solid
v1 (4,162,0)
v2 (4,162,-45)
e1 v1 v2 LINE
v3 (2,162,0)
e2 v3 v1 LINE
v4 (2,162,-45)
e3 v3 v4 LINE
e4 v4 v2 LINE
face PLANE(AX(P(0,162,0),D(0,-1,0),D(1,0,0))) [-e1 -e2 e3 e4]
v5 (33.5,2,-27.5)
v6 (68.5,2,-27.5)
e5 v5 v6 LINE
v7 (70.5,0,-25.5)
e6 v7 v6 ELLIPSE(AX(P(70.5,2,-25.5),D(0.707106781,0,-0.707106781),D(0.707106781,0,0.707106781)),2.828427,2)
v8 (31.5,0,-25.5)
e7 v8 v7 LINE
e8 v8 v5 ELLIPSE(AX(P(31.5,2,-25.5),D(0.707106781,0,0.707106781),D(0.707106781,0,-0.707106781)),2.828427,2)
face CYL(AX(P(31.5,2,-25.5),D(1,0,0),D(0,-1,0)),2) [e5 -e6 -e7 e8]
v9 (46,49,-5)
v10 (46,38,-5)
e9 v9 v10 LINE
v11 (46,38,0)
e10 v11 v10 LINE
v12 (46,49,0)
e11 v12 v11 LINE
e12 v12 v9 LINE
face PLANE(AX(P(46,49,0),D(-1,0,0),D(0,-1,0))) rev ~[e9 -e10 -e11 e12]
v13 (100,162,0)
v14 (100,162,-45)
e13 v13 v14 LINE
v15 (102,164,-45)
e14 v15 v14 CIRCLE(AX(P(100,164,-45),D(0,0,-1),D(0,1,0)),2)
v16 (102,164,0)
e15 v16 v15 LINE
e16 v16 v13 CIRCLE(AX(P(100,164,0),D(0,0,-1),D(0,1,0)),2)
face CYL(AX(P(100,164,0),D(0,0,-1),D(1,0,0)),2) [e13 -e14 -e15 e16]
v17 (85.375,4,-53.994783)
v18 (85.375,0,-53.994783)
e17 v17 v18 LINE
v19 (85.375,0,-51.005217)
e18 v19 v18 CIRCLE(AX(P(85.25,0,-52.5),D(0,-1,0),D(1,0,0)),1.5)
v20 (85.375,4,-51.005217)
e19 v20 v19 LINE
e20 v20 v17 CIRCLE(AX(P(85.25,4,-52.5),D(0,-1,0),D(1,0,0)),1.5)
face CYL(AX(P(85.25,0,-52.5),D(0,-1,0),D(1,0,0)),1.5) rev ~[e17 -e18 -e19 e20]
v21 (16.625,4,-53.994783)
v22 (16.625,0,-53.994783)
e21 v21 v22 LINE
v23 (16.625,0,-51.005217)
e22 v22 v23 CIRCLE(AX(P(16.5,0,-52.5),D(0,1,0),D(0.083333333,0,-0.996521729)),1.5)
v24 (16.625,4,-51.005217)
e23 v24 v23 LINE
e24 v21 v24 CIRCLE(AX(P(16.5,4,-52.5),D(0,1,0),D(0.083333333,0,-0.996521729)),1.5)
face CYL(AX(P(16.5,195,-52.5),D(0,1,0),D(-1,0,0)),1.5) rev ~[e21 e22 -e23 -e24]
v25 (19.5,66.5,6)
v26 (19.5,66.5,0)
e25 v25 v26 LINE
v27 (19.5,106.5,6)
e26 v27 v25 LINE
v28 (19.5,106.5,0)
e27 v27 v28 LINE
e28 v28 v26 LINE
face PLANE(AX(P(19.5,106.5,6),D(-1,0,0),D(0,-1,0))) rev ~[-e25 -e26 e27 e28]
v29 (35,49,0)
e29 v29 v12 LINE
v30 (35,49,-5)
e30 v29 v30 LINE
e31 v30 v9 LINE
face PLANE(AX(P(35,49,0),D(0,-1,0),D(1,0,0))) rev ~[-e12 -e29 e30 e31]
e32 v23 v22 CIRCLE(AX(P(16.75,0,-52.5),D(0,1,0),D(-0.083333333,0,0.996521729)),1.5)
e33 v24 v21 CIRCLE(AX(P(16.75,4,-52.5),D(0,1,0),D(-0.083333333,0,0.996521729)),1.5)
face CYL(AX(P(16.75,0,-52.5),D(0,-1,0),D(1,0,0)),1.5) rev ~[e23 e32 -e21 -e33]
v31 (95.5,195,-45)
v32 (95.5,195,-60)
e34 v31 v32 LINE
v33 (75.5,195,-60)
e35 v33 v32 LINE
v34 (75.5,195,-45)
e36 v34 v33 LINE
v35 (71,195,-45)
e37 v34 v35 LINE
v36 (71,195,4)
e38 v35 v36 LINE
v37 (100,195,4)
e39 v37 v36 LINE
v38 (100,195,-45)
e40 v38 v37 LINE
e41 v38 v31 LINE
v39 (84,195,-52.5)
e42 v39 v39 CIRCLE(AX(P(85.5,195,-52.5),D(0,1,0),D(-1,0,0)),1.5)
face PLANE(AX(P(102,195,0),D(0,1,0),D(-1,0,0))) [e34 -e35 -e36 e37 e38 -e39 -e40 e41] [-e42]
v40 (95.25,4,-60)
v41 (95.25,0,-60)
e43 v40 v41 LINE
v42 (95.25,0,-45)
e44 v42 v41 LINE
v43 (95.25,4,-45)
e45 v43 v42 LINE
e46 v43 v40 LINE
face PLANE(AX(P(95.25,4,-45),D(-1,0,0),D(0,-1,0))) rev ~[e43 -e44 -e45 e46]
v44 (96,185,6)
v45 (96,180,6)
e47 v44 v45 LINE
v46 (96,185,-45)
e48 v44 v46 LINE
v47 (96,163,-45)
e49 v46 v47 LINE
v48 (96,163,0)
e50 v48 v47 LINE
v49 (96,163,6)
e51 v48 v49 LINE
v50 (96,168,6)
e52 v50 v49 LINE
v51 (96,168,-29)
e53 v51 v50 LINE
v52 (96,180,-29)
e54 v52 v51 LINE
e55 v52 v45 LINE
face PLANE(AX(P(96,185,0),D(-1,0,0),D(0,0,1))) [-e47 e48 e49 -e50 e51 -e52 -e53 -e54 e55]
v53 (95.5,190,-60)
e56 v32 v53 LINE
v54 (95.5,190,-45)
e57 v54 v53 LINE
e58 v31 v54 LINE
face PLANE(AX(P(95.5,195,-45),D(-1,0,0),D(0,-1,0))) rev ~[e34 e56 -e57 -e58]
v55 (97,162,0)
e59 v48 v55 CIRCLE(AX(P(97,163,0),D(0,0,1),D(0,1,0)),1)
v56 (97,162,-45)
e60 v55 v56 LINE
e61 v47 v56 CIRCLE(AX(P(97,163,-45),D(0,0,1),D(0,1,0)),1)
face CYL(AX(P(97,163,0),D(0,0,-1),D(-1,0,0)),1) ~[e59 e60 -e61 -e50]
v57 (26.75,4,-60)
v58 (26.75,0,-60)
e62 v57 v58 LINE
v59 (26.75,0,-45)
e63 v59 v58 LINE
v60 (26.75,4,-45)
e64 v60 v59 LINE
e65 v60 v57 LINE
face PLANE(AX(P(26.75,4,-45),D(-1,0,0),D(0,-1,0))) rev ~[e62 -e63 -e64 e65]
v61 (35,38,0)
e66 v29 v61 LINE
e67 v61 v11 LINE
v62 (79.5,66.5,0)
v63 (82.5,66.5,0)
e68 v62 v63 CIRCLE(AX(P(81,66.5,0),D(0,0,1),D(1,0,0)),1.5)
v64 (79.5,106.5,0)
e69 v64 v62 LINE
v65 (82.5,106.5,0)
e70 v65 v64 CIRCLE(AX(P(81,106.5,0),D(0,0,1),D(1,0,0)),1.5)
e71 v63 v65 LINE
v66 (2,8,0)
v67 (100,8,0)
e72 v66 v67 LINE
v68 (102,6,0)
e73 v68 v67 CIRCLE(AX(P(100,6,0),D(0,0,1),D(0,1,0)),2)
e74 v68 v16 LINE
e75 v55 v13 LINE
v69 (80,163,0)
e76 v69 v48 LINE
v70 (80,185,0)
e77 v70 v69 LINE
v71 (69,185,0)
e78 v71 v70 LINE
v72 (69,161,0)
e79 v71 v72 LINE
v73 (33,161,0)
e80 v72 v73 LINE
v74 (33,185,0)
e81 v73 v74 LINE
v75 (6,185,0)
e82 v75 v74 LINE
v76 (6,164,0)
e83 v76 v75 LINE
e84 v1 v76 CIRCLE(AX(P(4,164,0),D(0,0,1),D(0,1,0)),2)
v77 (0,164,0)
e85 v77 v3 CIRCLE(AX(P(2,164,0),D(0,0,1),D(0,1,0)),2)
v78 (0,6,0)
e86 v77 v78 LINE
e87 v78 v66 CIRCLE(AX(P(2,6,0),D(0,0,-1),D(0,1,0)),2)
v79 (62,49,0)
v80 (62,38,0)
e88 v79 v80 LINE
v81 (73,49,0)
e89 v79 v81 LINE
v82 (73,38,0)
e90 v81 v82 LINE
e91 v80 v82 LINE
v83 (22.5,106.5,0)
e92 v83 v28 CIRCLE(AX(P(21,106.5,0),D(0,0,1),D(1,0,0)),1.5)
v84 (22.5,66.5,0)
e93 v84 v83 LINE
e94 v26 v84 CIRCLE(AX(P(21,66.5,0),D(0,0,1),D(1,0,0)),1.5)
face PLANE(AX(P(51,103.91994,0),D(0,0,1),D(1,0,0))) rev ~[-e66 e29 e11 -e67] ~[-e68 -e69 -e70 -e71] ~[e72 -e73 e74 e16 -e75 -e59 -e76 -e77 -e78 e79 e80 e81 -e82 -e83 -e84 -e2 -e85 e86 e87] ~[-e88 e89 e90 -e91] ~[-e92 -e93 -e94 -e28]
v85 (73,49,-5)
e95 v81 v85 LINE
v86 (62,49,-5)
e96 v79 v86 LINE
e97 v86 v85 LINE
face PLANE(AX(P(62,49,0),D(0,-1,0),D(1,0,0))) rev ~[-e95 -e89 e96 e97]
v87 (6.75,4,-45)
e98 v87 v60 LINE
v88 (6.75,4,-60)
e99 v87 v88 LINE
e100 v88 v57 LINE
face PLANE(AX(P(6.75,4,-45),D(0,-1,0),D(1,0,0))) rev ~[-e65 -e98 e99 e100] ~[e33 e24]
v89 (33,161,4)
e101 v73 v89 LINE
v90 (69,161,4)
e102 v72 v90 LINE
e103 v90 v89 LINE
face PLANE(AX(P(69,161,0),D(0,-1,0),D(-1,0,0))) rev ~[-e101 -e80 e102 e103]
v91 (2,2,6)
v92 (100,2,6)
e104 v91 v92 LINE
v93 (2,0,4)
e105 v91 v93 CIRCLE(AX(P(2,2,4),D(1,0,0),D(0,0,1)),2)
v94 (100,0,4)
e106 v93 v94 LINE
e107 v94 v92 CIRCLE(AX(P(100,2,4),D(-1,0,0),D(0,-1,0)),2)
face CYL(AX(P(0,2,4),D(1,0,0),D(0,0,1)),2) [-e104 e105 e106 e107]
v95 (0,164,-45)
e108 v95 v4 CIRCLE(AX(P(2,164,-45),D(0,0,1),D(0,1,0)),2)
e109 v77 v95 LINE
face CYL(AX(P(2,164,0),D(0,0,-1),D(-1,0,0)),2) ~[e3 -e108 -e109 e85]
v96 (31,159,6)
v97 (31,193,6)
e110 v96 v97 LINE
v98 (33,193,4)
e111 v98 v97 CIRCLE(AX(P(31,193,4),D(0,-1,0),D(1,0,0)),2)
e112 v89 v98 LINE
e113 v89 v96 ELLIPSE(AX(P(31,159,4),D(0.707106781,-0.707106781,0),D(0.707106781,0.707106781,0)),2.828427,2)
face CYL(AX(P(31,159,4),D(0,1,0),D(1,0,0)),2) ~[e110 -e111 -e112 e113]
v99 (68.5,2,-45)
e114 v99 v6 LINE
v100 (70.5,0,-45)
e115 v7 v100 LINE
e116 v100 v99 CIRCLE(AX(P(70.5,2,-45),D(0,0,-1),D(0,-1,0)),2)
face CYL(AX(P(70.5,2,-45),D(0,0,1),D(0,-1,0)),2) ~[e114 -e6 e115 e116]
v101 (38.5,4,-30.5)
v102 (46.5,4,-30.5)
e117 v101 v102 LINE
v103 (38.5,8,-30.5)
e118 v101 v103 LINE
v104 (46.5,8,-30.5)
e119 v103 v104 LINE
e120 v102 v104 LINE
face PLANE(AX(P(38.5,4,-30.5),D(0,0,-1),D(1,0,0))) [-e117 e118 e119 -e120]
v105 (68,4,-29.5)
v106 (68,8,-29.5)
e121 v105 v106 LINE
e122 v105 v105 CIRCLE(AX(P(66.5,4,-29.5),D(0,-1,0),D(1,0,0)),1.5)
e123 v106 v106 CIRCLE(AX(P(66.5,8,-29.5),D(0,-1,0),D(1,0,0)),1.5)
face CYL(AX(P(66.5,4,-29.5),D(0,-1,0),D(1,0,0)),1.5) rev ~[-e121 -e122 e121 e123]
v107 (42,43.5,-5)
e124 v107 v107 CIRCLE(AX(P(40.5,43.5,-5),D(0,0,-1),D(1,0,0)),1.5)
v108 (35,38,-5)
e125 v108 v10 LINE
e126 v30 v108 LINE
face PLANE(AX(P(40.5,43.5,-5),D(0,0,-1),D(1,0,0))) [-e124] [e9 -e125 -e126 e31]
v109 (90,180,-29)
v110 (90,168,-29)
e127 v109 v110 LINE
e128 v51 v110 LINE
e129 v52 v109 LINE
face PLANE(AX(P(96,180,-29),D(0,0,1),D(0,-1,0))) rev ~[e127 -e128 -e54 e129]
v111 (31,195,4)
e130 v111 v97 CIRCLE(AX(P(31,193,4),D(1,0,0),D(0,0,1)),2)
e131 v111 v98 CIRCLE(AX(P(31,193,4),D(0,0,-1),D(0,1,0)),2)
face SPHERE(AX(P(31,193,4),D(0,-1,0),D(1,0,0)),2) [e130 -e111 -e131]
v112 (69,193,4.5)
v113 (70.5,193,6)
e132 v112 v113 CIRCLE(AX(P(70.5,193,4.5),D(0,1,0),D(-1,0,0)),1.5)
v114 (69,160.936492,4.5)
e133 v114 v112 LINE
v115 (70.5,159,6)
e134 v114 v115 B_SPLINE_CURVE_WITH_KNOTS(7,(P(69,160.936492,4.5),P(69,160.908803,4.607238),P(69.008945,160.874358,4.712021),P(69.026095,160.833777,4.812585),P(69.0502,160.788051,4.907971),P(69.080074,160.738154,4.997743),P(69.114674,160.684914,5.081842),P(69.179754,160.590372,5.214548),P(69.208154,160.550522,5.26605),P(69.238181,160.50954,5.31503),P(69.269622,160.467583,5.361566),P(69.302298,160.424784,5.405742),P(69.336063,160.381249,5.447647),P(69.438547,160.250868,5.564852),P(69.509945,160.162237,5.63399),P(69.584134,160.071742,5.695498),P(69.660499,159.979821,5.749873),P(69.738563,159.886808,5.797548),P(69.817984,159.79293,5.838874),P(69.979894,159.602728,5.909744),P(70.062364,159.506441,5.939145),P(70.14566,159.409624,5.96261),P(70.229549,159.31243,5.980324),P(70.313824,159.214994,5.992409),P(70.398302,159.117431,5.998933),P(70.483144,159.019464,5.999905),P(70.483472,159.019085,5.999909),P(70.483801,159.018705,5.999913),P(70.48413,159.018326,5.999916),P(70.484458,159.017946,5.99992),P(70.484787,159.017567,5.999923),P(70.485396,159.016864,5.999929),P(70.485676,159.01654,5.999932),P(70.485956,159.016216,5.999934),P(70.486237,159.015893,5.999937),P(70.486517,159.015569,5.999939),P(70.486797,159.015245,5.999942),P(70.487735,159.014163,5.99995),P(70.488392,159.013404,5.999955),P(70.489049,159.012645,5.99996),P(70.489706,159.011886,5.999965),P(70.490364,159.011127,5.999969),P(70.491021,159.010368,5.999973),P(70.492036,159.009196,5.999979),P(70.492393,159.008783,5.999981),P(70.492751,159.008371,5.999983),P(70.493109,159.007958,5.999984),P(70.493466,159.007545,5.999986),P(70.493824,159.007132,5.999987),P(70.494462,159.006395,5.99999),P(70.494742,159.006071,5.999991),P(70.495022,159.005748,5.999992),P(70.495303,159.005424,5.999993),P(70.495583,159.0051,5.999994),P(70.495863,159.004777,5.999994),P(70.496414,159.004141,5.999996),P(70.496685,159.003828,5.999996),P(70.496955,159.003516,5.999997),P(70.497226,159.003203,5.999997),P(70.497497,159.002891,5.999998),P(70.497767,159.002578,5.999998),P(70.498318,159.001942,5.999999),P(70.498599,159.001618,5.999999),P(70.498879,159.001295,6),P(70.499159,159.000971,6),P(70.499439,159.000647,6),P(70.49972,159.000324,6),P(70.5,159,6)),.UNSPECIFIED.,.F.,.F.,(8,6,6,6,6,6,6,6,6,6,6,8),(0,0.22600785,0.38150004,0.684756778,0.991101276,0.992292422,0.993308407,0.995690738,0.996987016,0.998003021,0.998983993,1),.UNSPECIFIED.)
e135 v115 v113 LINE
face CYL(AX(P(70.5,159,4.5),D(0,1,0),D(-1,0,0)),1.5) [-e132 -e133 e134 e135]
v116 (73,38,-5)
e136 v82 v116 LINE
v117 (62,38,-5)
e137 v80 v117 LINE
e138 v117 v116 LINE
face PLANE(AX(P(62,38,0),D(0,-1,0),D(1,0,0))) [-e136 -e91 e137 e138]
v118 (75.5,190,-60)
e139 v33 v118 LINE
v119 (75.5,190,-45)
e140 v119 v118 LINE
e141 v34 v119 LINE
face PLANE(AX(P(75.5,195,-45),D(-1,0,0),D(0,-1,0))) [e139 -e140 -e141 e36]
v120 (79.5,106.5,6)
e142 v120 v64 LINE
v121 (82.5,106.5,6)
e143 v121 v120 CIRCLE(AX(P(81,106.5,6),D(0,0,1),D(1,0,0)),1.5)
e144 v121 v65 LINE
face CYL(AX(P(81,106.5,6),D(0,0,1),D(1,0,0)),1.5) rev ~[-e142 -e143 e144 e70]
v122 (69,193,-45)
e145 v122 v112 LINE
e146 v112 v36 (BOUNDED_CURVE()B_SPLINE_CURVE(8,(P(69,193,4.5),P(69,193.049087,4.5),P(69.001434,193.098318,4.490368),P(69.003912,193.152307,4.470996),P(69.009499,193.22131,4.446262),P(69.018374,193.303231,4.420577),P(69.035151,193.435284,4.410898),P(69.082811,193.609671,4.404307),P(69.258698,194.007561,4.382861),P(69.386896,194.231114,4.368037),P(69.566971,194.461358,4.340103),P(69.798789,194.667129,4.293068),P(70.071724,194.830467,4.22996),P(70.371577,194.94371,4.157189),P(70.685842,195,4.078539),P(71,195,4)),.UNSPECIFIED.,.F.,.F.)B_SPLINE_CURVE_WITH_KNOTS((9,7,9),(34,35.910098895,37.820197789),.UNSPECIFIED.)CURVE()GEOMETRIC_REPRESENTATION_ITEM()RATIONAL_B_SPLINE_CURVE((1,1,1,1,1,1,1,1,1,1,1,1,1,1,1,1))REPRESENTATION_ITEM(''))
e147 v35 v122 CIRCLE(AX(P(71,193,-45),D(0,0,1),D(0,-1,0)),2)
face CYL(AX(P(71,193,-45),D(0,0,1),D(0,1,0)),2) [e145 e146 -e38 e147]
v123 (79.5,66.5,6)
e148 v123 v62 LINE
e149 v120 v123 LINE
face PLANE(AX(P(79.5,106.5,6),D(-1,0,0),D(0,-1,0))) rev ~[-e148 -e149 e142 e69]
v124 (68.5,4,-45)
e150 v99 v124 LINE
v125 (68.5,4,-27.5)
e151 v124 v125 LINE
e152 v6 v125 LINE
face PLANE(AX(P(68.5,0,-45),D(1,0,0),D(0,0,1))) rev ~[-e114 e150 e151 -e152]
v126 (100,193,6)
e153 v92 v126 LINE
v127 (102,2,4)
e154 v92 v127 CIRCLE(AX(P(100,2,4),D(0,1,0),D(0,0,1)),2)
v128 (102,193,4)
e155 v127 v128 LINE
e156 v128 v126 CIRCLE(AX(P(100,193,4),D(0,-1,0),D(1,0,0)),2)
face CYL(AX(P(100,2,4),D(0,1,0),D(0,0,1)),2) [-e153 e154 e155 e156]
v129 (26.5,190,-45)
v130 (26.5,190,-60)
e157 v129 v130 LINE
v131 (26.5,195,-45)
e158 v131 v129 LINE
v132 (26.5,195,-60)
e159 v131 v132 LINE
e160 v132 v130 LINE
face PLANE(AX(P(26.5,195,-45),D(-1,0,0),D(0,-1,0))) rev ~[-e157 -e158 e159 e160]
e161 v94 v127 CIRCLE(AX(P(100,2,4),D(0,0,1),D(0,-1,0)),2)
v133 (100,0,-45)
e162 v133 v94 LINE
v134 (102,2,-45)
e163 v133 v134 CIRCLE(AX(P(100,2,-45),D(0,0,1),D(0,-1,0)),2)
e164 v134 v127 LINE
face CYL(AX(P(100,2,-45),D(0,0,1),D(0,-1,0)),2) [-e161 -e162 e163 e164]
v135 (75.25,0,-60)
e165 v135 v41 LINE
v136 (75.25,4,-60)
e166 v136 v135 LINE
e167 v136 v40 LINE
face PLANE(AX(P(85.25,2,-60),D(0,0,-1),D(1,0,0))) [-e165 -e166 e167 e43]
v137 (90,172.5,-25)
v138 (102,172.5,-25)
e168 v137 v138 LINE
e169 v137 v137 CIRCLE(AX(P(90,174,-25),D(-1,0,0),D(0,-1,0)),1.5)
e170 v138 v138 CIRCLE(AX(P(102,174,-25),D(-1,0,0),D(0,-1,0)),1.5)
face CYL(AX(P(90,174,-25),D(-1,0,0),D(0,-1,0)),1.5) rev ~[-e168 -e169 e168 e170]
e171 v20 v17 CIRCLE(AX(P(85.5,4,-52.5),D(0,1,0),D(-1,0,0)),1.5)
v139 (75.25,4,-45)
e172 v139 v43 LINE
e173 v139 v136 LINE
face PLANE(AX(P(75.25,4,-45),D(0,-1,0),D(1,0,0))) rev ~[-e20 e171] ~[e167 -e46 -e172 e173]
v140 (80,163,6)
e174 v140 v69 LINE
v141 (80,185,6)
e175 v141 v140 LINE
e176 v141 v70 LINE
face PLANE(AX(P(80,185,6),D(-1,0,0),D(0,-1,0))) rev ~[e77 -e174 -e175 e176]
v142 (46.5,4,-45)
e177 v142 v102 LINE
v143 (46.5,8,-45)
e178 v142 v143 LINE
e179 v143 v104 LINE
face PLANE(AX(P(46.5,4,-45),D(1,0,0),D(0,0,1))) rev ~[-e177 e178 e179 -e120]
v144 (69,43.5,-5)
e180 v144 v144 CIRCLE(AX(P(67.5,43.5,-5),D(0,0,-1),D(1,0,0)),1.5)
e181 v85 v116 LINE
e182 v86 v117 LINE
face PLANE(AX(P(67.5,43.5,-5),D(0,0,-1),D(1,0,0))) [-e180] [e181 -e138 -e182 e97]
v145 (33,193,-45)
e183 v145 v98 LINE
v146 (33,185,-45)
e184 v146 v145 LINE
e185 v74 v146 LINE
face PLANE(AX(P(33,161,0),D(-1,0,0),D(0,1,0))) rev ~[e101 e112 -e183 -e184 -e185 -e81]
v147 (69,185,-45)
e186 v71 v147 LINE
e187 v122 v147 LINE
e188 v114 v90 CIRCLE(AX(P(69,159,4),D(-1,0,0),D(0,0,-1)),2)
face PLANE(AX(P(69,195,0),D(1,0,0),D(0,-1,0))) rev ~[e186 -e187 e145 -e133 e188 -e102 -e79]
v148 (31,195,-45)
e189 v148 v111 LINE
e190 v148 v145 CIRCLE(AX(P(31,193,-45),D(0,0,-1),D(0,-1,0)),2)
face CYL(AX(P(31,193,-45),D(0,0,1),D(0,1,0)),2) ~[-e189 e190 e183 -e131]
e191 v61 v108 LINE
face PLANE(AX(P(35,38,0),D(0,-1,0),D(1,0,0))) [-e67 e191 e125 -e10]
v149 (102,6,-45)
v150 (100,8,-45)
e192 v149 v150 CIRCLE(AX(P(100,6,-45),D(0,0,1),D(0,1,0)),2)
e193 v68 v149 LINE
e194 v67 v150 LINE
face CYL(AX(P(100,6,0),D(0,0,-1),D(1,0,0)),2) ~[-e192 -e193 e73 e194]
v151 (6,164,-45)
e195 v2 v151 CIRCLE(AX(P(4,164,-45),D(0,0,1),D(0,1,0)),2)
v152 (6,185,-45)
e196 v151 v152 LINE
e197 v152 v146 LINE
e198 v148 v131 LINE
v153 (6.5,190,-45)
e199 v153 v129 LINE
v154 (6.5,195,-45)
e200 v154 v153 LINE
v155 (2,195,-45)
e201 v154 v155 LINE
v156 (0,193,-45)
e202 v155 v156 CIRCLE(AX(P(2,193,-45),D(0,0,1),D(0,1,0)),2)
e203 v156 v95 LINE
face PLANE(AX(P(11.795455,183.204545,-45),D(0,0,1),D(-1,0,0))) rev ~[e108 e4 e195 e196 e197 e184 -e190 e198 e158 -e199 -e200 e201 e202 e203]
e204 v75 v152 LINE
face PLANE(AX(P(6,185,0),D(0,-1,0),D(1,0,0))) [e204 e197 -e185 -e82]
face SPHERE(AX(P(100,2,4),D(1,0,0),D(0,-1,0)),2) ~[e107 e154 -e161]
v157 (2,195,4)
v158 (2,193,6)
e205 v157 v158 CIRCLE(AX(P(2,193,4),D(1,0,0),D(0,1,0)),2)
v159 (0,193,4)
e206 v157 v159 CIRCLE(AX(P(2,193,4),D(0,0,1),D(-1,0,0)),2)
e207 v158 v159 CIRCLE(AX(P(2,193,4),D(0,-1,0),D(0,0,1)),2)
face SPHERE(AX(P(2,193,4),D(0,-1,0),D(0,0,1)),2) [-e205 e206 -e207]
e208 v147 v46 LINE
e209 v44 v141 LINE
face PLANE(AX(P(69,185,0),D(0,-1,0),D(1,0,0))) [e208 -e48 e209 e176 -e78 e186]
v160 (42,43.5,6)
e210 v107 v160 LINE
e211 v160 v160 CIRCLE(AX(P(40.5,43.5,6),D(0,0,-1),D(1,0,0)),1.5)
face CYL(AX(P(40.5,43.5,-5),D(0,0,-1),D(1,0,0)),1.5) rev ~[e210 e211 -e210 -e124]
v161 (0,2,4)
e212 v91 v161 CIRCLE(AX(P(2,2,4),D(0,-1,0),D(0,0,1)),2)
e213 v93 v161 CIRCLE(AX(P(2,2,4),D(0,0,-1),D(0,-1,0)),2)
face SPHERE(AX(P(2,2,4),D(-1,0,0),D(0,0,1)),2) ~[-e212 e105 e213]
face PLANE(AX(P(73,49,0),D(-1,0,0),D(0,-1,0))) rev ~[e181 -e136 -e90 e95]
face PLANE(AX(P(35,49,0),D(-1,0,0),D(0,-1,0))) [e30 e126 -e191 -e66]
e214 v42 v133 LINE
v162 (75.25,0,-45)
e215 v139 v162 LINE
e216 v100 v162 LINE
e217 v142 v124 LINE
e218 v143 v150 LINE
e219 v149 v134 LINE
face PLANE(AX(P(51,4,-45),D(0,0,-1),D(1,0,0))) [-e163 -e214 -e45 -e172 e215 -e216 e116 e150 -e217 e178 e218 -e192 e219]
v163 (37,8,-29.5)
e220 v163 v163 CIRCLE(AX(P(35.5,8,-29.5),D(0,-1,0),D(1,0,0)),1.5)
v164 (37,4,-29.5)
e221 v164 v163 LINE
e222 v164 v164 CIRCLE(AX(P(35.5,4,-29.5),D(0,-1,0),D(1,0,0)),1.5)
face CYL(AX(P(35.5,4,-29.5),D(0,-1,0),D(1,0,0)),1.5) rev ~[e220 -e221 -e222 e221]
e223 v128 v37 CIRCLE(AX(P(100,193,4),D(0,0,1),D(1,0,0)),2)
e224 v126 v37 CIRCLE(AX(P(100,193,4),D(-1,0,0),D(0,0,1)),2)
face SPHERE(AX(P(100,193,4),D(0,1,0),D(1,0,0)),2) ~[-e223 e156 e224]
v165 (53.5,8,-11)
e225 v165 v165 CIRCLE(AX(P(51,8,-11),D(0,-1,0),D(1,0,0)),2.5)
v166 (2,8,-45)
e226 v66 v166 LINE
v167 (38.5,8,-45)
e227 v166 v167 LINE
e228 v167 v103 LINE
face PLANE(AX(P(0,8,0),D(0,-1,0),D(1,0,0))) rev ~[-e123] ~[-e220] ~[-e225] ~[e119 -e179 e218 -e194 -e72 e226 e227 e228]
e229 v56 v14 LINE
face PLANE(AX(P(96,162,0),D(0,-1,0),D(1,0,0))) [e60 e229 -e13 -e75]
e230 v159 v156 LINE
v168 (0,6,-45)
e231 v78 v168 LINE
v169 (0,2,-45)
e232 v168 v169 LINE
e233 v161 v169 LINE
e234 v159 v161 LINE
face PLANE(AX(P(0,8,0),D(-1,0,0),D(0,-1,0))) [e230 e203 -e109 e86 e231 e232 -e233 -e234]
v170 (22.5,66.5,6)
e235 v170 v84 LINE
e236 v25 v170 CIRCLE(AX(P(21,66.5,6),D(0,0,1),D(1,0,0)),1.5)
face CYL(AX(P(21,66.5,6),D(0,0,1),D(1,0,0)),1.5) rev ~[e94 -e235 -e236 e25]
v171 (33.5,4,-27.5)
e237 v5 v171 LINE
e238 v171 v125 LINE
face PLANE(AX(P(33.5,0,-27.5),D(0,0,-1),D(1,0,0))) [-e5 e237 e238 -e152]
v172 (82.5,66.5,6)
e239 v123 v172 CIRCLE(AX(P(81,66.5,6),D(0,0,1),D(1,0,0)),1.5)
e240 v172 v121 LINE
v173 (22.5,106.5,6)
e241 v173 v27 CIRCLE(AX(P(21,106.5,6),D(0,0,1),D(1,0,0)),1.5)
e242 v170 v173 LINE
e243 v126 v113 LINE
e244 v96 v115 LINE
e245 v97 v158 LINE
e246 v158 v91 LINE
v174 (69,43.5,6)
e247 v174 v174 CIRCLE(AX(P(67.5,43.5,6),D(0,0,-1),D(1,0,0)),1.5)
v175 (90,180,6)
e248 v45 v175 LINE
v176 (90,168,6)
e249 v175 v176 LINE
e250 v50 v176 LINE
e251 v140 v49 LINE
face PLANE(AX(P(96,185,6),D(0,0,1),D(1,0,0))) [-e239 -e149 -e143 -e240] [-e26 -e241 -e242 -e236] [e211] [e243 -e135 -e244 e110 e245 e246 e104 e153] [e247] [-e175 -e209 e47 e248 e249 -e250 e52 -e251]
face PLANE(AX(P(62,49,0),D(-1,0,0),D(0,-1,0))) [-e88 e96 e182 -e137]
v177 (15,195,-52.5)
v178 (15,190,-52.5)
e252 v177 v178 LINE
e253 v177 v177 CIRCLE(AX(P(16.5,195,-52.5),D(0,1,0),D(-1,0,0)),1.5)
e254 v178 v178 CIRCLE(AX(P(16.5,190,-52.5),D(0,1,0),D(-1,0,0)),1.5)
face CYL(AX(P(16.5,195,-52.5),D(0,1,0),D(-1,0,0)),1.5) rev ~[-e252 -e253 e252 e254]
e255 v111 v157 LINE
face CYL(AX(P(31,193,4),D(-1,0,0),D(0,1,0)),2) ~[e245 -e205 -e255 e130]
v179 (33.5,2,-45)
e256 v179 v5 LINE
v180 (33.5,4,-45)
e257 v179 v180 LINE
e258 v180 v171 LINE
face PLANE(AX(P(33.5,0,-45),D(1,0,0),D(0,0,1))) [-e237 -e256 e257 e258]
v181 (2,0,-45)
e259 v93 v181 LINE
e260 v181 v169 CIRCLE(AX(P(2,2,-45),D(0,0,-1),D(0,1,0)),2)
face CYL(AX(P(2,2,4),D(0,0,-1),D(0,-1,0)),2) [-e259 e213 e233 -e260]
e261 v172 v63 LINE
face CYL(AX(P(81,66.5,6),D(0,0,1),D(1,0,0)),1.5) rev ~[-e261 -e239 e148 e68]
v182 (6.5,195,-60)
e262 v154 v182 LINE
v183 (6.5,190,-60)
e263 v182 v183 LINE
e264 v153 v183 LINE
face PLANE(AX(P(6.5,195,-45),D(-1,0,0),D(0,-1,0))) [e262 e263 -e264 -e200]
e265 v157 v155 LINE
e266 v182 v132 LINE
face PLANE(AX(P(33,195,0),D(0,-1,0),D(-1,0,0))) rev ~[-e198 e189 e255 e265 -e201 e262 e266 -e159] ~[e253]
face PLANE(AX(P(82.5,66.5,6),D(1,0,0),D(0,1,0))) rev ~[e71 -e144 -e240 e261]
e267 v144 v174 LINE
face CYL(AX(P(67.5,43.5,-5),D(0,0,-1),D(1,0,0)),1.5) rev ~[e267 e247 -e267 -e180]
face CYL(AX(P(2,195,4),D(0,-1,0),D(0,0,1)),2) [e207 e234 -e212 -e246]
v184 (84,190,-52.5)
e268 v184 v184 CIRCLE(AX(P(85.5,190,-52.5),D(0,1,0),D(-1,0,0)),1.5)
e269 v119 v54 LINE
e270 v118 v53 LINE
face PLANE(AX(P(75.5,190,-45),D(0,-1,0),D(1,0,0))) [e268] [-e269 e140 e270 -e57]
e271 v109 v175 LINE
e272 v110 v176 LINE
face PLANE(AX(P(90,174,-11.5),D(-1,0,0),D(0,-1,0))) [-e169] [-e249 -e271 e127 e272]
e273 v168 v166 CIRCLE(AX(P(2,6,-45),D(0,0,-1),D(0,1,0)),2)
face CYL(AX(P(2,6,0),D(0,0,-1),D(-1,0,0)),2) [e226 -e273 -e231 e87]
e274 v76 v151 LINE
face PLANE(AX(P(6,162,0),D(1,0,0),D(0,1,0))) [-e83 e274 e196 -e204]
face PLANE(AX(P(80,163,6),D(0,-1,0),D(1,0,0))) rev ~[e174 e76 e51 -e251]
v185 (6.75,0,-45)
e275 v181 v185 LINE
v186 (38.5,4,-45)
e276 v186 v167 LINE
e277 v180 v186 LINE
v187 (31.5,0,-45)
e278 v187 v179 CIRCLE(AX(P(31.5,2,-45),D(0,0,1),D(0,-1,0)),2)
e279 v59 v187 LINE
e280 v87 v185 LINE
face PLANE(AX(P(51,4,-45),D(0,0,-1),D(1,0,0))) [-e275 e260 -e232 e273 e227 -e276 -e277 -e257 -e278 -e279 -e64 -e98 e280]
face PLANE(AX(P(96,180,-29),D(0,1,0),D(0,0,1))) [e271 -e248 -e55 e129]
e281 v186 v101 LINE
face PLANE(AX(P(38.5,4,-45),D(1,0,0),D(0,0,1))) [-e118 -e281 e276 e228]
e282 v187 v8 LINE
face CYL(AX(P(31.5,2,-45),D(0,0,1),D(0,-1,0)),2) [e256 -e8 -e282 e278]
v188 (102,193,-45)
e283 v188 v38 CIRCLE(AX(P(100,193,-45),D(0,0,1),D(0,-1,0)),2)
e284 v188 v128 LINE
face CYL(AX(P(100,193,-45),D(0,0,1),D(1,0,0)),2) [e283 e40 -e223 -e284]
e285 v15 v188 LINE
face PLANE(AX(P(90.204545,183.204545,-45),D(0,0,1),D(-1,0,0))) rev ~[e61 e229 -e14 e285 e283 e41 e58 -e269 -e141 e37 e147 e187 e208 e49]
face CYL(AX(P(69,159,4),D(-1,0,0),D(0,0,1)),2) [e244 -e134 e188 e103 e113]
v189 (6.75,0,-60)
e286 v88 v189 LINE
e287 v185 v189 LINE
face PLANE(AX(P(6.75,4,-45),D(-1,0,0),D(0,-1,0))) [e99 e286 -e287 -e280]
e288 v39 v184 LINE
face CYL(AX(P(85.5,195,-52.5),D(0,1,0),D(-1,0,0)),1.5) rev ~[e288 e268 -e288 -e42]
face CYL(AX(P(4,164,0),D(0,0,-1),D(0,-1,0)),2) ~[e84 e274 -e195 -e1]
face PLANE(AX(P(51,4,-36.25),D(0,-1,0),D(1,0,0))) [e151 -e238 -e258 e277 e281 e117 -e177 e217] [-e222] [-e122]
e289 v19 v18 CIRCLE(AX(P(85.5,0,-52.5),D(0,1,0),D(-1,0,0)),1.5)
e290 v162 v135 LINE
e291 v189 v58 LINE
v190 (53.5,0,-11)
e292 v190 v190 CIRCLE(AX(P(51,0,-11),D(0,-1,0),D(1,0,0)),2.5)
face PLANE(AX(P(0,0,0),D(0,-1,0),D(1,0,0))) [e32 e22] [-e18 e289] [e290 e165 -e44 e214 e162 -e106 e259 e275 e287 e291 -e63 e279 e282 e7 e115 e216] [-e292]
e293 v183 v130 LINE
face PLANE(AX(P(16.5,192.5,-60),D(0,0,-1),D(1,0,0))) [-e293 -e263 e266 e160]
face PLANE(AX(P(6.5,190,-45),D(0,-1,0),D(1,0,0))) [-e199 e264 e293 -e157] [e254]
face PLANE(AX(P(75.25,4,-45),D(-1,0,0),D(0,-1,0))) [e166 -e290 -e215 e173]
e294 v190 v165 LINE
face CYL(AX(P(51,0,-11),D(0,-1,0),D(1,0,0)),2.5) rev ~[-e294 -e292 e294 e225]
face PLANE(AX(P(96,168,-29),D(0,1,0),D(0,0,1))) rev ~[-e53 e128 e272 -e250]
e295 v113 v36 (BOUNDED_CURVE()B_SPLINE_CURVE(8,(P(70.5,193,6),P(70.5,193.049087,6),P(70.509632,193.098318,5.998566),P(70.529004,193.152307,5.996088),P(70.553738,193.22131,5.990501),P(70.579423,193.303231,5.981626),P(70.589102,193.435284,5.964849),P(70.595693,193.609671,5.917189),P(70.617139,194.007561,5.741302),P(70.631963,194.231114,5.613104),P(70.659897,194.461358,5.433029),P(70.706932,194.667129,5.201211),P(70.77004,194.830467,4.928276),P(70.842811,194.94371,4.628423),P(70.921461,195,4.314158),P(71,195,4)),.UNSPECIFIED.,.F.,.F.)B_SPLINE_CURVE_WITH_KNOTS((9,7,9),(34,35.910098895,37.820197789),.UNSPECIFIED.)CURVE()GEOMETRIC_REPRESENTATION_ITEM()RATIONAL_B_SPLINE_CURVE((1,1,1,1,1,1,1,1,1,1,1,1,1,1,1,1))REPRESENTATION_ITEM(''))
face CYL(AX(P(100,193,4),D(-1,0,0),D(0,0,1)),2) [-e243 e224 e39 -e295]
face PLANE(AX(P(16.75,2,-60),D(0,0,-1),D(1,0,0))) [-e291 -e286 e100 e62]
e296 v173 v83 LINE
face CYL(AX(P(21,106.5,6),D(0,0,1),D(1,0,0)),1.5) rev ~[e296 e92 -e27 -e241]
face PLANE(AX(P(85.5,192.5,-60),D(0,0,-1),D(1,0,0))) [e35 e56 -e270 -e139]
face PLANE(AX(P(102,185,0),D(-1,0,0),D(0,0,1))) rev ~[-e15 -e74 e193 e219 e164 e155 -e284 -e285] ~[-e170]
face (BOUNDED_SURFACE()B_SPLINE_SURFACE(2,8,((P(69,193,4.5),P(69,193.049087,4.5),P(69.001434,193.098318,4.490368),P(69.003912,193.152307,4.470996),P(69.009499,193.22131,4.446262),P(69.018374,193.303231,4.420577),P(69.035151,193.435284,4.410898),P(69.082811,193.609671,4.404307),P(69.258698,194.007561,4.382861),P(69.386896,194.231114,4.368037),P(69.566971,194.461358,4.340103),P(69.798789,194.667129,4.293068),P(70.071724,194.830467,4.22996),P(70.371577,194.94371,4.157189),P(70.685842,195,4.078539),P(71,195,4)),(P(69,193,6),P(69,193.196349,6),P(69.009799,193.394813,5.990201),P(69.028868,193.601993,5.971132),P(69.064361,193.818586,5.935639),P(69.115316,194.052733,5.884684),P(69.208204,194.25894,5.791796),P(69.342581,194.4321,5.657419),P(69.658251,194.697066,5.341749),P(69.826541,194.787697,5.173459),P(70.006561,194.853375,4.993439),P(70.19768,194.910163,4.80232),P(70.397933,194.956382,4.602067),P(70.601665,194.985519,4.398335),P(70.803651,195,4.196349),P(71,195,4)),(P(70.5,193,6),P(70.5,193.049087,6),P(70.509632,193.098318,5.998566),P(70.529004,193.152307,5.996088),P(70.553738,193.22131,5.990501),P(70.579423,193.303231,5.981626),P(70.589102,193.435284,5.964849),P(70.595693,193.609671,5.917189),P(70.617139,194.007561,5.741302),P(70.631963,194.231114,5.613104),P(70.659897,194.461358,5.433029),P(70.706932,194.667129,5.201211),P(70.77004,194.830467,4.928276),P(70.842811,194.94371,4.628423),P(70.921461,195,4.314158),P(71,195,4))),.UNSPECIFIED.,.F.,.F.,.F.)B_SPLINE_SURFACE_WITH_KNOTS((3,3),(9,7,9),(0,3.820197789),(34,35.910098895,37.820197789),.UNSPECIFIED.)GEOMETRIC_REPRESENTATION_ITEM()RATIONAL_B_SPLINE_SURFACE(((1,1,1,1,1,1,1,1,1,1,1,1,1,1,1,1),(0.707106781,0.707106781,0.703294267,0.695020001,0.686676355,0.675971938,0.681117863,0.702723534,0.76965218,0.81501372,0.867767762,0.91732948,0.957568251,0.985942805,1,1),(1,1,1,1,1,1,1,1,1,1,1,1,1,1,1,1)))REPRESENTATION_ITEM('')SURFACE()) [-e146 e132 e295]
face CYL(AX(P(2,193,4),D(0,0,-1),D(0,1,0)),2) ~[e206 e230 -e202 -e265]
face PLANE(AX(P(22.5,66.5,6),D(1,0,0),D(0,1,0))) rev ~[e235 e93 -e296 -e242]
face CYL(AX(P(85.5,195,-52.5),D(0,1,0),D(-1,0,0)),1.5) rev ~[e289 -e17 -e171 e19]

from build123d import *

# Parameters (mm, degrees)
PAD_DEPTH       = 6
SKETCH001_W     = 11
SKETCH001_H     = 11
PAD001_DEPTH    = 5
SKETCH003_R     = 1.5
POCKET_DEPTH    = 11.001
SKETCH004_R     = 1.5
POCKET001_DEPTH = 6
POCKET002_DEPTH = 6
SKETCH006_W     = 102
SKETCH006_H     = 8
PAD002_DEPTH    = 45
SKETCH007_W     = 35
SKETCH007_H     = 17.5
POCKET003_DEPTH = 4
SKETCH008_R     = 1.5
SKETCH008_W     = 8
SKETCH008_H     = 14.5
POCKET004_DEPTH = 5
SKETCH009_W     = 20
SKETCH009_H     = 4
PAD003_DEPTH    = 15
SKETCH010_R     = 1.5
POCKET005_DEPTH = 4
PAD004_DEPTH    = 45
SKETCH012_W     = 6
SKETCH012_H     = 6
PAD005_DEPTH    = 22
SKETCH013_W     = 20
SKETCH013_H     = 5
PAD006_DEPTH    = 15
SKETCH014_R     = 1.5
POCKET006_DEPTH = 195.001
SKETCH015_W     = 12
SKETCH015_H     = 35
PAD007_DEPTH    = 6
SKETCH016_R     = 1.5
POCKET007_DEPTH = 12.001
SKETCH018_R     = 2.5
POCKET008_DEPTH = 8
FILLET_R        = 2
FILLET001_R     = 2
FILLET002_R     = 2
FILLET003_R     = 2
FILLET004_R     = 2
FILLET005_R     = 2
FILLET006_R     = 2
FILLET007_R     = 1
FILLET008_R     = 2
FILLET009_R     = 2
FILLET010_R     = 2
FILLET011_R     = 1.5
FILLET012_R     = 2
FILLET013_R     = 2
POCKET009_DEPTH = 6


with BuildPart() as part:
    # Sketch → Pad (new body)
    with BuildSketch(Plane.XY):
        Polygon((0, 0), (102, 0), (102, 195), (69, 195), (69, 161), (33, 161), (33, 195), (0, 195), align=None)
    extrude(amount=PAD_DEPTH)

    # Sketch001 (on Face9 of Pad) → Pad001 (join)
    with BuildSketch(Plane(origin=(0, 0, 0), x_dir=(1, 0, 0), z_dir=(0, 0, -1))):
        with Locations((40.5, -43.5)):
            Rectangle(SKETCH001_W, SKETCH001_H)
        with Locations((67.5, -43.5)):
            Rectangle(SKETCH001_W, SKETCH001_H)
    extrude(amount=PAD001_DEPTH)

    # Sketch003 (on Face19 of Pad001) → Pocket (cut, through all)
    with BuildSketch(Plane(origin=(0, 0, -5), x_dir=(1, 0, 0), z_dir=(0, 0, -1))):
        with Locations((40.5, -43.5)):
            Circle(SKETCH003_R)
        with Locations((67.5, -43.5)):
            Circle(SKETCH003_R)
    extrude(amount=-POCKET_DEPTH, mode=Mode.SUBTRACT)

    # Sketch004 (on Face5 of Pocket) → Pocket001 (cut)
    with BuildSketch(Plane.XY.offset(6)):
        with Locations((21, 89.5)):
            Circle(SKETCH004_R)
        with Locations((81, 89.5)):
            Circle(SKETCH004_R)
        with Locations((81, 66.5)):
            Circle(SKETCH004_R)
        with Locations((21, 66.5)):
            Circle(SKETCH004_R)
    extrude(amount=-POCKET001_DEPTH, mode=Mode.SUBTRACT)

    # Sketch005 (on Face5 of Pocket001) → Pocket002 (cut)
    with BuildSketch(Plane.XY.offset(6)):
        Polygon((102, 185), (80, 185), (80, 163), (102, 163), (102, 168), (102, 180), align=None)
    extrude(amount=-POCKET002_DEPTH, mode=Mode.SUBTRACT)

    # Sketch006 (on Face4 of Pocket002) → Pad002 (join)
    with BuildSketch(Plane(origin=(0, 0, 0), x_dir=(1, 0, 0), z_dir=(0, 0, -1))):
        with Locations((51, -4)):
            Rectangle(SKETCH006_W, SKETCH006_H)
    extrude(amount=PAD002_DEPTH)

    # Sketch007 (on Face4 of Pad002) → Pocket003 (cut)
    with BuildSketch(Plane.XZ):
        with Locations((51, -36.25)):
            Rectangle(SKETCH007_W, SKETCH007_H)
    extrude(amount=-POCKET003_DEPTH, mode=Mode.SUBTRACT)

    # Sketch008 (on Face37 of Pocket003) → Pocket004 (cut)
    with BuildSketch(Plane.XZ.offset(-4)):
        with Locations((35.5, -29.5)):
            Circle(SKETCH008_R)
        with Locations((66.5, -29.5)):
            Circle(SKETCH008_R)
        with Locations((42.5, -37.75)):
            Rectangle(SKETCH008_W, SKETCH008_H)
    extrude(amount=-POCKET004_DEPTH, mode=Mode.SUBTRACT)

    # Sketch009 (on Face11 of Pocket004) → Pad003 (join)
    with BuildSketch(Plane(origin=(0, 0, -45), x_dir=(1, 0, 0), z_dir=(0, 0, -1))):
        with Locations((16.75, -2)):
            Rectangle(SKETCH009_W, SKETCH009_H)
        with Locations((85.25, -2)):
            Rectangle(SKETCH009_W, SKETCH009_H)
    extrude(amount=PAD003_DEPTH)

    # Sketch010 (on Face12 of Pad003) → Pocket005 (cut)
    with BuildSketch(Plane.XZ):
        with Locations((16.75, -52.5)):
            Circle(SKETCH010_R)
        with Locations((85.25, -52.5)):
            Circle(SKETCH010_R)
    extrude(amount=-POCKET005_DEPTH, mode=Mode.SUBTRACT)

    # Sketch011 (on Face7 of Pocket005) → Pad004 (join)
    with BuildSketch(Plane(origin=(0, 0, 0), x_dir=(1, 0, 0), z_dir=(0, 0, -1))):
        Polygon((96, -162), (102, -162), (102, -195), (69, -195), (69, -185), (96, -185), align=None)
        Polygon((0, -162), (6, -162), (6, -185), (33, -185), (33, -195), (0, -195), align=None)
    extrude(amount=PAD004_DEPTH)

    # Sketch012 (on Face25 of Pad004) → Pad005 (join)
    with BuildSketch(Plane.XZ.offset(-185)):
        with Locations((99, 3)):
            Rectangle(SKETCH012_W, SKETCH012_H)
    extrude(amount=PAD005_DEPTH)

    # Sketch013 (on Face37 of Pad005) → Pad006 (join)
    with BuildSketch(Plane(origin=(0, 0, -45), x_dir=(1, 0, 0), z_dir=(0, 0, -1))):
        with Locations((16.5, -192.5)):
            Rectangle(SKETCH013_W, SKETCH013_H)
        with Locations((85.5, -192.5)):
            Rectangle(SKETCH013_W, SKETCH013_H)
    extrude(amount=PAD006_DEPTH)

    # Sketch014 (on Face79 of Pad006) → Pocket006 (cut, through all)
    with BuildSketch(Plane(origin=(0, 195, 0), x_dir=(-1, 0, 0), z_dir=(0, 1, 0))):
        with Locations((-85.5, -52.5)):
            Circle(SKETCH014_R)
        with Locations((-16.5, -52.5)):
            Circle(SKETCH014_R)
    extrude(amount=-POCKET006_DEPTH, mode=Mode.SUBTRACT)

    # Sketch015 (on Face39 of Pocket006) → Pad007 (join)
    with BuildSketch(Plane(origin=(96, 0, 0), x_dir=(0, -1, 0), z_dir=(-1, 0, 0))):
        with Locations((-174, -11.5)):
            Rectangle(SKETCH015_W, SKETCH015_H)
    extrude(amount=PAD007_DEPTH)

    # Sketch016 (on Face92 of Pad007) → Pocket007 (cut, through all)
    with BuildSketch(Plane(origin=(90, 0, 0), x_dir=(0, -1, 0), z_dir=(-1, 0, 0))):
        with Locations((-174, -25)):
            Circle(SKETCH016_R)
    extrude(amount=-POCKET007_DEPTH, mode=Mode.SUBTRACT)

    # Sketch018 → Pocket008 (cut)
    with BuildSketch(Plane.XZ):
        with Locations((51, -11)):
            Circle(SKETCH018_R)
    extrude(amount=-POCKET008_DEPTH, mode=Mode.SUBTRACT)

    # Fillet
    fillet_edges = [part.edges().sort_by_distance(p)[0] for p in [
        (51, 0, 6),
    ]]
    fillet(fillet_edges, radius=FILLET_R)

    # Fillet001
    fillet001_edges = [part.edges().sort_by_distance(p)[0] for p in [
        (0, 98.5, 6),
        (102, 82.5, 6),
    ]]
    fillet(fillet001_edges, radius=FILLET001_R)

    # Fillet002
    fillet002_edges = [part.edges().sort_by_distance(p)[0] for p in [
        (102, 8, -22.5),
    ]]
    fillet(fillet002_edges, radius=FILLET002_R)

    # Fillet003
    fillet003_edges = [part.edges().sort_by_distance(p)[0] for p in [
        (0, 8, -22.5),
    ]]
    fillet(fillet003_edges, radius=FILLET003_R)

    # Fillet004
    fillet004_edges = [part.edges().sort_by_distance(p)[0] for p in [
        (33.5, 0, -36.25),
        (68.5, 0, -36.25),
    ]]
    fillet(fillet004_edges, radius=FILLET004_R)

    # Fillet005
    fillet005_edges = [part.edges().sort_by_distance(p)[0] for p in [
        (51, 0, -27.5),
    ]]
    fillet(fillet005_edges, radius=FILLET005_R)

    # Fillet006
    fillet006_edges = [part.edges().sort_by_distance(p)[0] for p in [
        (102, 162, -22.5),
    ]]
    fillet(fillet006_edges, radius=FILLET006_R)

    # Fillet007
    fillet007_edges = [part.edges().sort_by_distance(p)[0] for p in [
        (96, 162, -22.5),
    ]]
    fillet(fillet007_edges, radius=FILLET007_R)

    # Fillet008
    fillet008_edges = [part.edges().sort_by_distance(p)[0] for p in [
        (102, 195, -22.5),
        (69, 195, -22.5),
    ]]
    fillet(fillet008_edges, radius=FILLET008_R)

    # Fillet009
    fillet009_edges = [part.edges().sort_by_distance(p)[0] for p in [
        (51, 161, 6),
    ]]
    fillet(fillet009_edges, radius=FILLET009_R)

    # Fillet010
    fillet010_edges = [part.edges().sort_by_distance(p)[0] for p in [
        (33, 178, 6),
    ]]
    fillet(fillet010_edges, radius=FILLET010_R)

    # Fillet011
    fillet011_edges = [part.edges().sort_by_distance(p)[0] for p in [
        (69, 177, 6),
    ]]
    fillet(fillet011_edges, radius=FILLET011_R)

    # Fillet012
    fillet012_edges = [part.edges().sort_by_distance(p)[0] for p in [
        (33, 195, -22.5),
        (0, 195, -22.5),
    ]]
    fillet(fillet012_edges, radius=FILLET012_R)

    # Fillet013
    fillet013_edges = [part.edges().sort_by_distance(p)[0] for p in [
        (0, 162, -22.5),
        (6, 162, -22.5),
    ]]
    fillet(fillet013_edges, radius=FILLET013_R)

    # Sketch019 (on Face52 of Fillet013) → Pocket009 (cut)
    with BuildSketch(Plane.XY.offset(6)):
        with BuildLine():
            ThreePointArc((22.5, 106.5), (21, 108), (19.5, 106.5))
            Line((19.5, 106.5), (19.5, 66.5))
            ThreePointArc((19.5, 66.5), (21, 65), (22.5, 66.5))
            Line((22.5, 66.5), (22.5, 106.5))
        make_face()
        with BuildLine():
            ThreePointArc((82.5, 106.5), (81, 108), (79.5, 106.5))
            Line((79.5, 106.5), (79.5, 66.5))
            ThreePointArc((79.5, 66.5), (81, 65), (82.5, 66.5))
            Line((82.5, 66.5), (82.5, 106.5))
        make_face()
    extrude(amount=-POCKET009_DEPTH, mode=Mode.SUBTRACT)


solid = part.part
